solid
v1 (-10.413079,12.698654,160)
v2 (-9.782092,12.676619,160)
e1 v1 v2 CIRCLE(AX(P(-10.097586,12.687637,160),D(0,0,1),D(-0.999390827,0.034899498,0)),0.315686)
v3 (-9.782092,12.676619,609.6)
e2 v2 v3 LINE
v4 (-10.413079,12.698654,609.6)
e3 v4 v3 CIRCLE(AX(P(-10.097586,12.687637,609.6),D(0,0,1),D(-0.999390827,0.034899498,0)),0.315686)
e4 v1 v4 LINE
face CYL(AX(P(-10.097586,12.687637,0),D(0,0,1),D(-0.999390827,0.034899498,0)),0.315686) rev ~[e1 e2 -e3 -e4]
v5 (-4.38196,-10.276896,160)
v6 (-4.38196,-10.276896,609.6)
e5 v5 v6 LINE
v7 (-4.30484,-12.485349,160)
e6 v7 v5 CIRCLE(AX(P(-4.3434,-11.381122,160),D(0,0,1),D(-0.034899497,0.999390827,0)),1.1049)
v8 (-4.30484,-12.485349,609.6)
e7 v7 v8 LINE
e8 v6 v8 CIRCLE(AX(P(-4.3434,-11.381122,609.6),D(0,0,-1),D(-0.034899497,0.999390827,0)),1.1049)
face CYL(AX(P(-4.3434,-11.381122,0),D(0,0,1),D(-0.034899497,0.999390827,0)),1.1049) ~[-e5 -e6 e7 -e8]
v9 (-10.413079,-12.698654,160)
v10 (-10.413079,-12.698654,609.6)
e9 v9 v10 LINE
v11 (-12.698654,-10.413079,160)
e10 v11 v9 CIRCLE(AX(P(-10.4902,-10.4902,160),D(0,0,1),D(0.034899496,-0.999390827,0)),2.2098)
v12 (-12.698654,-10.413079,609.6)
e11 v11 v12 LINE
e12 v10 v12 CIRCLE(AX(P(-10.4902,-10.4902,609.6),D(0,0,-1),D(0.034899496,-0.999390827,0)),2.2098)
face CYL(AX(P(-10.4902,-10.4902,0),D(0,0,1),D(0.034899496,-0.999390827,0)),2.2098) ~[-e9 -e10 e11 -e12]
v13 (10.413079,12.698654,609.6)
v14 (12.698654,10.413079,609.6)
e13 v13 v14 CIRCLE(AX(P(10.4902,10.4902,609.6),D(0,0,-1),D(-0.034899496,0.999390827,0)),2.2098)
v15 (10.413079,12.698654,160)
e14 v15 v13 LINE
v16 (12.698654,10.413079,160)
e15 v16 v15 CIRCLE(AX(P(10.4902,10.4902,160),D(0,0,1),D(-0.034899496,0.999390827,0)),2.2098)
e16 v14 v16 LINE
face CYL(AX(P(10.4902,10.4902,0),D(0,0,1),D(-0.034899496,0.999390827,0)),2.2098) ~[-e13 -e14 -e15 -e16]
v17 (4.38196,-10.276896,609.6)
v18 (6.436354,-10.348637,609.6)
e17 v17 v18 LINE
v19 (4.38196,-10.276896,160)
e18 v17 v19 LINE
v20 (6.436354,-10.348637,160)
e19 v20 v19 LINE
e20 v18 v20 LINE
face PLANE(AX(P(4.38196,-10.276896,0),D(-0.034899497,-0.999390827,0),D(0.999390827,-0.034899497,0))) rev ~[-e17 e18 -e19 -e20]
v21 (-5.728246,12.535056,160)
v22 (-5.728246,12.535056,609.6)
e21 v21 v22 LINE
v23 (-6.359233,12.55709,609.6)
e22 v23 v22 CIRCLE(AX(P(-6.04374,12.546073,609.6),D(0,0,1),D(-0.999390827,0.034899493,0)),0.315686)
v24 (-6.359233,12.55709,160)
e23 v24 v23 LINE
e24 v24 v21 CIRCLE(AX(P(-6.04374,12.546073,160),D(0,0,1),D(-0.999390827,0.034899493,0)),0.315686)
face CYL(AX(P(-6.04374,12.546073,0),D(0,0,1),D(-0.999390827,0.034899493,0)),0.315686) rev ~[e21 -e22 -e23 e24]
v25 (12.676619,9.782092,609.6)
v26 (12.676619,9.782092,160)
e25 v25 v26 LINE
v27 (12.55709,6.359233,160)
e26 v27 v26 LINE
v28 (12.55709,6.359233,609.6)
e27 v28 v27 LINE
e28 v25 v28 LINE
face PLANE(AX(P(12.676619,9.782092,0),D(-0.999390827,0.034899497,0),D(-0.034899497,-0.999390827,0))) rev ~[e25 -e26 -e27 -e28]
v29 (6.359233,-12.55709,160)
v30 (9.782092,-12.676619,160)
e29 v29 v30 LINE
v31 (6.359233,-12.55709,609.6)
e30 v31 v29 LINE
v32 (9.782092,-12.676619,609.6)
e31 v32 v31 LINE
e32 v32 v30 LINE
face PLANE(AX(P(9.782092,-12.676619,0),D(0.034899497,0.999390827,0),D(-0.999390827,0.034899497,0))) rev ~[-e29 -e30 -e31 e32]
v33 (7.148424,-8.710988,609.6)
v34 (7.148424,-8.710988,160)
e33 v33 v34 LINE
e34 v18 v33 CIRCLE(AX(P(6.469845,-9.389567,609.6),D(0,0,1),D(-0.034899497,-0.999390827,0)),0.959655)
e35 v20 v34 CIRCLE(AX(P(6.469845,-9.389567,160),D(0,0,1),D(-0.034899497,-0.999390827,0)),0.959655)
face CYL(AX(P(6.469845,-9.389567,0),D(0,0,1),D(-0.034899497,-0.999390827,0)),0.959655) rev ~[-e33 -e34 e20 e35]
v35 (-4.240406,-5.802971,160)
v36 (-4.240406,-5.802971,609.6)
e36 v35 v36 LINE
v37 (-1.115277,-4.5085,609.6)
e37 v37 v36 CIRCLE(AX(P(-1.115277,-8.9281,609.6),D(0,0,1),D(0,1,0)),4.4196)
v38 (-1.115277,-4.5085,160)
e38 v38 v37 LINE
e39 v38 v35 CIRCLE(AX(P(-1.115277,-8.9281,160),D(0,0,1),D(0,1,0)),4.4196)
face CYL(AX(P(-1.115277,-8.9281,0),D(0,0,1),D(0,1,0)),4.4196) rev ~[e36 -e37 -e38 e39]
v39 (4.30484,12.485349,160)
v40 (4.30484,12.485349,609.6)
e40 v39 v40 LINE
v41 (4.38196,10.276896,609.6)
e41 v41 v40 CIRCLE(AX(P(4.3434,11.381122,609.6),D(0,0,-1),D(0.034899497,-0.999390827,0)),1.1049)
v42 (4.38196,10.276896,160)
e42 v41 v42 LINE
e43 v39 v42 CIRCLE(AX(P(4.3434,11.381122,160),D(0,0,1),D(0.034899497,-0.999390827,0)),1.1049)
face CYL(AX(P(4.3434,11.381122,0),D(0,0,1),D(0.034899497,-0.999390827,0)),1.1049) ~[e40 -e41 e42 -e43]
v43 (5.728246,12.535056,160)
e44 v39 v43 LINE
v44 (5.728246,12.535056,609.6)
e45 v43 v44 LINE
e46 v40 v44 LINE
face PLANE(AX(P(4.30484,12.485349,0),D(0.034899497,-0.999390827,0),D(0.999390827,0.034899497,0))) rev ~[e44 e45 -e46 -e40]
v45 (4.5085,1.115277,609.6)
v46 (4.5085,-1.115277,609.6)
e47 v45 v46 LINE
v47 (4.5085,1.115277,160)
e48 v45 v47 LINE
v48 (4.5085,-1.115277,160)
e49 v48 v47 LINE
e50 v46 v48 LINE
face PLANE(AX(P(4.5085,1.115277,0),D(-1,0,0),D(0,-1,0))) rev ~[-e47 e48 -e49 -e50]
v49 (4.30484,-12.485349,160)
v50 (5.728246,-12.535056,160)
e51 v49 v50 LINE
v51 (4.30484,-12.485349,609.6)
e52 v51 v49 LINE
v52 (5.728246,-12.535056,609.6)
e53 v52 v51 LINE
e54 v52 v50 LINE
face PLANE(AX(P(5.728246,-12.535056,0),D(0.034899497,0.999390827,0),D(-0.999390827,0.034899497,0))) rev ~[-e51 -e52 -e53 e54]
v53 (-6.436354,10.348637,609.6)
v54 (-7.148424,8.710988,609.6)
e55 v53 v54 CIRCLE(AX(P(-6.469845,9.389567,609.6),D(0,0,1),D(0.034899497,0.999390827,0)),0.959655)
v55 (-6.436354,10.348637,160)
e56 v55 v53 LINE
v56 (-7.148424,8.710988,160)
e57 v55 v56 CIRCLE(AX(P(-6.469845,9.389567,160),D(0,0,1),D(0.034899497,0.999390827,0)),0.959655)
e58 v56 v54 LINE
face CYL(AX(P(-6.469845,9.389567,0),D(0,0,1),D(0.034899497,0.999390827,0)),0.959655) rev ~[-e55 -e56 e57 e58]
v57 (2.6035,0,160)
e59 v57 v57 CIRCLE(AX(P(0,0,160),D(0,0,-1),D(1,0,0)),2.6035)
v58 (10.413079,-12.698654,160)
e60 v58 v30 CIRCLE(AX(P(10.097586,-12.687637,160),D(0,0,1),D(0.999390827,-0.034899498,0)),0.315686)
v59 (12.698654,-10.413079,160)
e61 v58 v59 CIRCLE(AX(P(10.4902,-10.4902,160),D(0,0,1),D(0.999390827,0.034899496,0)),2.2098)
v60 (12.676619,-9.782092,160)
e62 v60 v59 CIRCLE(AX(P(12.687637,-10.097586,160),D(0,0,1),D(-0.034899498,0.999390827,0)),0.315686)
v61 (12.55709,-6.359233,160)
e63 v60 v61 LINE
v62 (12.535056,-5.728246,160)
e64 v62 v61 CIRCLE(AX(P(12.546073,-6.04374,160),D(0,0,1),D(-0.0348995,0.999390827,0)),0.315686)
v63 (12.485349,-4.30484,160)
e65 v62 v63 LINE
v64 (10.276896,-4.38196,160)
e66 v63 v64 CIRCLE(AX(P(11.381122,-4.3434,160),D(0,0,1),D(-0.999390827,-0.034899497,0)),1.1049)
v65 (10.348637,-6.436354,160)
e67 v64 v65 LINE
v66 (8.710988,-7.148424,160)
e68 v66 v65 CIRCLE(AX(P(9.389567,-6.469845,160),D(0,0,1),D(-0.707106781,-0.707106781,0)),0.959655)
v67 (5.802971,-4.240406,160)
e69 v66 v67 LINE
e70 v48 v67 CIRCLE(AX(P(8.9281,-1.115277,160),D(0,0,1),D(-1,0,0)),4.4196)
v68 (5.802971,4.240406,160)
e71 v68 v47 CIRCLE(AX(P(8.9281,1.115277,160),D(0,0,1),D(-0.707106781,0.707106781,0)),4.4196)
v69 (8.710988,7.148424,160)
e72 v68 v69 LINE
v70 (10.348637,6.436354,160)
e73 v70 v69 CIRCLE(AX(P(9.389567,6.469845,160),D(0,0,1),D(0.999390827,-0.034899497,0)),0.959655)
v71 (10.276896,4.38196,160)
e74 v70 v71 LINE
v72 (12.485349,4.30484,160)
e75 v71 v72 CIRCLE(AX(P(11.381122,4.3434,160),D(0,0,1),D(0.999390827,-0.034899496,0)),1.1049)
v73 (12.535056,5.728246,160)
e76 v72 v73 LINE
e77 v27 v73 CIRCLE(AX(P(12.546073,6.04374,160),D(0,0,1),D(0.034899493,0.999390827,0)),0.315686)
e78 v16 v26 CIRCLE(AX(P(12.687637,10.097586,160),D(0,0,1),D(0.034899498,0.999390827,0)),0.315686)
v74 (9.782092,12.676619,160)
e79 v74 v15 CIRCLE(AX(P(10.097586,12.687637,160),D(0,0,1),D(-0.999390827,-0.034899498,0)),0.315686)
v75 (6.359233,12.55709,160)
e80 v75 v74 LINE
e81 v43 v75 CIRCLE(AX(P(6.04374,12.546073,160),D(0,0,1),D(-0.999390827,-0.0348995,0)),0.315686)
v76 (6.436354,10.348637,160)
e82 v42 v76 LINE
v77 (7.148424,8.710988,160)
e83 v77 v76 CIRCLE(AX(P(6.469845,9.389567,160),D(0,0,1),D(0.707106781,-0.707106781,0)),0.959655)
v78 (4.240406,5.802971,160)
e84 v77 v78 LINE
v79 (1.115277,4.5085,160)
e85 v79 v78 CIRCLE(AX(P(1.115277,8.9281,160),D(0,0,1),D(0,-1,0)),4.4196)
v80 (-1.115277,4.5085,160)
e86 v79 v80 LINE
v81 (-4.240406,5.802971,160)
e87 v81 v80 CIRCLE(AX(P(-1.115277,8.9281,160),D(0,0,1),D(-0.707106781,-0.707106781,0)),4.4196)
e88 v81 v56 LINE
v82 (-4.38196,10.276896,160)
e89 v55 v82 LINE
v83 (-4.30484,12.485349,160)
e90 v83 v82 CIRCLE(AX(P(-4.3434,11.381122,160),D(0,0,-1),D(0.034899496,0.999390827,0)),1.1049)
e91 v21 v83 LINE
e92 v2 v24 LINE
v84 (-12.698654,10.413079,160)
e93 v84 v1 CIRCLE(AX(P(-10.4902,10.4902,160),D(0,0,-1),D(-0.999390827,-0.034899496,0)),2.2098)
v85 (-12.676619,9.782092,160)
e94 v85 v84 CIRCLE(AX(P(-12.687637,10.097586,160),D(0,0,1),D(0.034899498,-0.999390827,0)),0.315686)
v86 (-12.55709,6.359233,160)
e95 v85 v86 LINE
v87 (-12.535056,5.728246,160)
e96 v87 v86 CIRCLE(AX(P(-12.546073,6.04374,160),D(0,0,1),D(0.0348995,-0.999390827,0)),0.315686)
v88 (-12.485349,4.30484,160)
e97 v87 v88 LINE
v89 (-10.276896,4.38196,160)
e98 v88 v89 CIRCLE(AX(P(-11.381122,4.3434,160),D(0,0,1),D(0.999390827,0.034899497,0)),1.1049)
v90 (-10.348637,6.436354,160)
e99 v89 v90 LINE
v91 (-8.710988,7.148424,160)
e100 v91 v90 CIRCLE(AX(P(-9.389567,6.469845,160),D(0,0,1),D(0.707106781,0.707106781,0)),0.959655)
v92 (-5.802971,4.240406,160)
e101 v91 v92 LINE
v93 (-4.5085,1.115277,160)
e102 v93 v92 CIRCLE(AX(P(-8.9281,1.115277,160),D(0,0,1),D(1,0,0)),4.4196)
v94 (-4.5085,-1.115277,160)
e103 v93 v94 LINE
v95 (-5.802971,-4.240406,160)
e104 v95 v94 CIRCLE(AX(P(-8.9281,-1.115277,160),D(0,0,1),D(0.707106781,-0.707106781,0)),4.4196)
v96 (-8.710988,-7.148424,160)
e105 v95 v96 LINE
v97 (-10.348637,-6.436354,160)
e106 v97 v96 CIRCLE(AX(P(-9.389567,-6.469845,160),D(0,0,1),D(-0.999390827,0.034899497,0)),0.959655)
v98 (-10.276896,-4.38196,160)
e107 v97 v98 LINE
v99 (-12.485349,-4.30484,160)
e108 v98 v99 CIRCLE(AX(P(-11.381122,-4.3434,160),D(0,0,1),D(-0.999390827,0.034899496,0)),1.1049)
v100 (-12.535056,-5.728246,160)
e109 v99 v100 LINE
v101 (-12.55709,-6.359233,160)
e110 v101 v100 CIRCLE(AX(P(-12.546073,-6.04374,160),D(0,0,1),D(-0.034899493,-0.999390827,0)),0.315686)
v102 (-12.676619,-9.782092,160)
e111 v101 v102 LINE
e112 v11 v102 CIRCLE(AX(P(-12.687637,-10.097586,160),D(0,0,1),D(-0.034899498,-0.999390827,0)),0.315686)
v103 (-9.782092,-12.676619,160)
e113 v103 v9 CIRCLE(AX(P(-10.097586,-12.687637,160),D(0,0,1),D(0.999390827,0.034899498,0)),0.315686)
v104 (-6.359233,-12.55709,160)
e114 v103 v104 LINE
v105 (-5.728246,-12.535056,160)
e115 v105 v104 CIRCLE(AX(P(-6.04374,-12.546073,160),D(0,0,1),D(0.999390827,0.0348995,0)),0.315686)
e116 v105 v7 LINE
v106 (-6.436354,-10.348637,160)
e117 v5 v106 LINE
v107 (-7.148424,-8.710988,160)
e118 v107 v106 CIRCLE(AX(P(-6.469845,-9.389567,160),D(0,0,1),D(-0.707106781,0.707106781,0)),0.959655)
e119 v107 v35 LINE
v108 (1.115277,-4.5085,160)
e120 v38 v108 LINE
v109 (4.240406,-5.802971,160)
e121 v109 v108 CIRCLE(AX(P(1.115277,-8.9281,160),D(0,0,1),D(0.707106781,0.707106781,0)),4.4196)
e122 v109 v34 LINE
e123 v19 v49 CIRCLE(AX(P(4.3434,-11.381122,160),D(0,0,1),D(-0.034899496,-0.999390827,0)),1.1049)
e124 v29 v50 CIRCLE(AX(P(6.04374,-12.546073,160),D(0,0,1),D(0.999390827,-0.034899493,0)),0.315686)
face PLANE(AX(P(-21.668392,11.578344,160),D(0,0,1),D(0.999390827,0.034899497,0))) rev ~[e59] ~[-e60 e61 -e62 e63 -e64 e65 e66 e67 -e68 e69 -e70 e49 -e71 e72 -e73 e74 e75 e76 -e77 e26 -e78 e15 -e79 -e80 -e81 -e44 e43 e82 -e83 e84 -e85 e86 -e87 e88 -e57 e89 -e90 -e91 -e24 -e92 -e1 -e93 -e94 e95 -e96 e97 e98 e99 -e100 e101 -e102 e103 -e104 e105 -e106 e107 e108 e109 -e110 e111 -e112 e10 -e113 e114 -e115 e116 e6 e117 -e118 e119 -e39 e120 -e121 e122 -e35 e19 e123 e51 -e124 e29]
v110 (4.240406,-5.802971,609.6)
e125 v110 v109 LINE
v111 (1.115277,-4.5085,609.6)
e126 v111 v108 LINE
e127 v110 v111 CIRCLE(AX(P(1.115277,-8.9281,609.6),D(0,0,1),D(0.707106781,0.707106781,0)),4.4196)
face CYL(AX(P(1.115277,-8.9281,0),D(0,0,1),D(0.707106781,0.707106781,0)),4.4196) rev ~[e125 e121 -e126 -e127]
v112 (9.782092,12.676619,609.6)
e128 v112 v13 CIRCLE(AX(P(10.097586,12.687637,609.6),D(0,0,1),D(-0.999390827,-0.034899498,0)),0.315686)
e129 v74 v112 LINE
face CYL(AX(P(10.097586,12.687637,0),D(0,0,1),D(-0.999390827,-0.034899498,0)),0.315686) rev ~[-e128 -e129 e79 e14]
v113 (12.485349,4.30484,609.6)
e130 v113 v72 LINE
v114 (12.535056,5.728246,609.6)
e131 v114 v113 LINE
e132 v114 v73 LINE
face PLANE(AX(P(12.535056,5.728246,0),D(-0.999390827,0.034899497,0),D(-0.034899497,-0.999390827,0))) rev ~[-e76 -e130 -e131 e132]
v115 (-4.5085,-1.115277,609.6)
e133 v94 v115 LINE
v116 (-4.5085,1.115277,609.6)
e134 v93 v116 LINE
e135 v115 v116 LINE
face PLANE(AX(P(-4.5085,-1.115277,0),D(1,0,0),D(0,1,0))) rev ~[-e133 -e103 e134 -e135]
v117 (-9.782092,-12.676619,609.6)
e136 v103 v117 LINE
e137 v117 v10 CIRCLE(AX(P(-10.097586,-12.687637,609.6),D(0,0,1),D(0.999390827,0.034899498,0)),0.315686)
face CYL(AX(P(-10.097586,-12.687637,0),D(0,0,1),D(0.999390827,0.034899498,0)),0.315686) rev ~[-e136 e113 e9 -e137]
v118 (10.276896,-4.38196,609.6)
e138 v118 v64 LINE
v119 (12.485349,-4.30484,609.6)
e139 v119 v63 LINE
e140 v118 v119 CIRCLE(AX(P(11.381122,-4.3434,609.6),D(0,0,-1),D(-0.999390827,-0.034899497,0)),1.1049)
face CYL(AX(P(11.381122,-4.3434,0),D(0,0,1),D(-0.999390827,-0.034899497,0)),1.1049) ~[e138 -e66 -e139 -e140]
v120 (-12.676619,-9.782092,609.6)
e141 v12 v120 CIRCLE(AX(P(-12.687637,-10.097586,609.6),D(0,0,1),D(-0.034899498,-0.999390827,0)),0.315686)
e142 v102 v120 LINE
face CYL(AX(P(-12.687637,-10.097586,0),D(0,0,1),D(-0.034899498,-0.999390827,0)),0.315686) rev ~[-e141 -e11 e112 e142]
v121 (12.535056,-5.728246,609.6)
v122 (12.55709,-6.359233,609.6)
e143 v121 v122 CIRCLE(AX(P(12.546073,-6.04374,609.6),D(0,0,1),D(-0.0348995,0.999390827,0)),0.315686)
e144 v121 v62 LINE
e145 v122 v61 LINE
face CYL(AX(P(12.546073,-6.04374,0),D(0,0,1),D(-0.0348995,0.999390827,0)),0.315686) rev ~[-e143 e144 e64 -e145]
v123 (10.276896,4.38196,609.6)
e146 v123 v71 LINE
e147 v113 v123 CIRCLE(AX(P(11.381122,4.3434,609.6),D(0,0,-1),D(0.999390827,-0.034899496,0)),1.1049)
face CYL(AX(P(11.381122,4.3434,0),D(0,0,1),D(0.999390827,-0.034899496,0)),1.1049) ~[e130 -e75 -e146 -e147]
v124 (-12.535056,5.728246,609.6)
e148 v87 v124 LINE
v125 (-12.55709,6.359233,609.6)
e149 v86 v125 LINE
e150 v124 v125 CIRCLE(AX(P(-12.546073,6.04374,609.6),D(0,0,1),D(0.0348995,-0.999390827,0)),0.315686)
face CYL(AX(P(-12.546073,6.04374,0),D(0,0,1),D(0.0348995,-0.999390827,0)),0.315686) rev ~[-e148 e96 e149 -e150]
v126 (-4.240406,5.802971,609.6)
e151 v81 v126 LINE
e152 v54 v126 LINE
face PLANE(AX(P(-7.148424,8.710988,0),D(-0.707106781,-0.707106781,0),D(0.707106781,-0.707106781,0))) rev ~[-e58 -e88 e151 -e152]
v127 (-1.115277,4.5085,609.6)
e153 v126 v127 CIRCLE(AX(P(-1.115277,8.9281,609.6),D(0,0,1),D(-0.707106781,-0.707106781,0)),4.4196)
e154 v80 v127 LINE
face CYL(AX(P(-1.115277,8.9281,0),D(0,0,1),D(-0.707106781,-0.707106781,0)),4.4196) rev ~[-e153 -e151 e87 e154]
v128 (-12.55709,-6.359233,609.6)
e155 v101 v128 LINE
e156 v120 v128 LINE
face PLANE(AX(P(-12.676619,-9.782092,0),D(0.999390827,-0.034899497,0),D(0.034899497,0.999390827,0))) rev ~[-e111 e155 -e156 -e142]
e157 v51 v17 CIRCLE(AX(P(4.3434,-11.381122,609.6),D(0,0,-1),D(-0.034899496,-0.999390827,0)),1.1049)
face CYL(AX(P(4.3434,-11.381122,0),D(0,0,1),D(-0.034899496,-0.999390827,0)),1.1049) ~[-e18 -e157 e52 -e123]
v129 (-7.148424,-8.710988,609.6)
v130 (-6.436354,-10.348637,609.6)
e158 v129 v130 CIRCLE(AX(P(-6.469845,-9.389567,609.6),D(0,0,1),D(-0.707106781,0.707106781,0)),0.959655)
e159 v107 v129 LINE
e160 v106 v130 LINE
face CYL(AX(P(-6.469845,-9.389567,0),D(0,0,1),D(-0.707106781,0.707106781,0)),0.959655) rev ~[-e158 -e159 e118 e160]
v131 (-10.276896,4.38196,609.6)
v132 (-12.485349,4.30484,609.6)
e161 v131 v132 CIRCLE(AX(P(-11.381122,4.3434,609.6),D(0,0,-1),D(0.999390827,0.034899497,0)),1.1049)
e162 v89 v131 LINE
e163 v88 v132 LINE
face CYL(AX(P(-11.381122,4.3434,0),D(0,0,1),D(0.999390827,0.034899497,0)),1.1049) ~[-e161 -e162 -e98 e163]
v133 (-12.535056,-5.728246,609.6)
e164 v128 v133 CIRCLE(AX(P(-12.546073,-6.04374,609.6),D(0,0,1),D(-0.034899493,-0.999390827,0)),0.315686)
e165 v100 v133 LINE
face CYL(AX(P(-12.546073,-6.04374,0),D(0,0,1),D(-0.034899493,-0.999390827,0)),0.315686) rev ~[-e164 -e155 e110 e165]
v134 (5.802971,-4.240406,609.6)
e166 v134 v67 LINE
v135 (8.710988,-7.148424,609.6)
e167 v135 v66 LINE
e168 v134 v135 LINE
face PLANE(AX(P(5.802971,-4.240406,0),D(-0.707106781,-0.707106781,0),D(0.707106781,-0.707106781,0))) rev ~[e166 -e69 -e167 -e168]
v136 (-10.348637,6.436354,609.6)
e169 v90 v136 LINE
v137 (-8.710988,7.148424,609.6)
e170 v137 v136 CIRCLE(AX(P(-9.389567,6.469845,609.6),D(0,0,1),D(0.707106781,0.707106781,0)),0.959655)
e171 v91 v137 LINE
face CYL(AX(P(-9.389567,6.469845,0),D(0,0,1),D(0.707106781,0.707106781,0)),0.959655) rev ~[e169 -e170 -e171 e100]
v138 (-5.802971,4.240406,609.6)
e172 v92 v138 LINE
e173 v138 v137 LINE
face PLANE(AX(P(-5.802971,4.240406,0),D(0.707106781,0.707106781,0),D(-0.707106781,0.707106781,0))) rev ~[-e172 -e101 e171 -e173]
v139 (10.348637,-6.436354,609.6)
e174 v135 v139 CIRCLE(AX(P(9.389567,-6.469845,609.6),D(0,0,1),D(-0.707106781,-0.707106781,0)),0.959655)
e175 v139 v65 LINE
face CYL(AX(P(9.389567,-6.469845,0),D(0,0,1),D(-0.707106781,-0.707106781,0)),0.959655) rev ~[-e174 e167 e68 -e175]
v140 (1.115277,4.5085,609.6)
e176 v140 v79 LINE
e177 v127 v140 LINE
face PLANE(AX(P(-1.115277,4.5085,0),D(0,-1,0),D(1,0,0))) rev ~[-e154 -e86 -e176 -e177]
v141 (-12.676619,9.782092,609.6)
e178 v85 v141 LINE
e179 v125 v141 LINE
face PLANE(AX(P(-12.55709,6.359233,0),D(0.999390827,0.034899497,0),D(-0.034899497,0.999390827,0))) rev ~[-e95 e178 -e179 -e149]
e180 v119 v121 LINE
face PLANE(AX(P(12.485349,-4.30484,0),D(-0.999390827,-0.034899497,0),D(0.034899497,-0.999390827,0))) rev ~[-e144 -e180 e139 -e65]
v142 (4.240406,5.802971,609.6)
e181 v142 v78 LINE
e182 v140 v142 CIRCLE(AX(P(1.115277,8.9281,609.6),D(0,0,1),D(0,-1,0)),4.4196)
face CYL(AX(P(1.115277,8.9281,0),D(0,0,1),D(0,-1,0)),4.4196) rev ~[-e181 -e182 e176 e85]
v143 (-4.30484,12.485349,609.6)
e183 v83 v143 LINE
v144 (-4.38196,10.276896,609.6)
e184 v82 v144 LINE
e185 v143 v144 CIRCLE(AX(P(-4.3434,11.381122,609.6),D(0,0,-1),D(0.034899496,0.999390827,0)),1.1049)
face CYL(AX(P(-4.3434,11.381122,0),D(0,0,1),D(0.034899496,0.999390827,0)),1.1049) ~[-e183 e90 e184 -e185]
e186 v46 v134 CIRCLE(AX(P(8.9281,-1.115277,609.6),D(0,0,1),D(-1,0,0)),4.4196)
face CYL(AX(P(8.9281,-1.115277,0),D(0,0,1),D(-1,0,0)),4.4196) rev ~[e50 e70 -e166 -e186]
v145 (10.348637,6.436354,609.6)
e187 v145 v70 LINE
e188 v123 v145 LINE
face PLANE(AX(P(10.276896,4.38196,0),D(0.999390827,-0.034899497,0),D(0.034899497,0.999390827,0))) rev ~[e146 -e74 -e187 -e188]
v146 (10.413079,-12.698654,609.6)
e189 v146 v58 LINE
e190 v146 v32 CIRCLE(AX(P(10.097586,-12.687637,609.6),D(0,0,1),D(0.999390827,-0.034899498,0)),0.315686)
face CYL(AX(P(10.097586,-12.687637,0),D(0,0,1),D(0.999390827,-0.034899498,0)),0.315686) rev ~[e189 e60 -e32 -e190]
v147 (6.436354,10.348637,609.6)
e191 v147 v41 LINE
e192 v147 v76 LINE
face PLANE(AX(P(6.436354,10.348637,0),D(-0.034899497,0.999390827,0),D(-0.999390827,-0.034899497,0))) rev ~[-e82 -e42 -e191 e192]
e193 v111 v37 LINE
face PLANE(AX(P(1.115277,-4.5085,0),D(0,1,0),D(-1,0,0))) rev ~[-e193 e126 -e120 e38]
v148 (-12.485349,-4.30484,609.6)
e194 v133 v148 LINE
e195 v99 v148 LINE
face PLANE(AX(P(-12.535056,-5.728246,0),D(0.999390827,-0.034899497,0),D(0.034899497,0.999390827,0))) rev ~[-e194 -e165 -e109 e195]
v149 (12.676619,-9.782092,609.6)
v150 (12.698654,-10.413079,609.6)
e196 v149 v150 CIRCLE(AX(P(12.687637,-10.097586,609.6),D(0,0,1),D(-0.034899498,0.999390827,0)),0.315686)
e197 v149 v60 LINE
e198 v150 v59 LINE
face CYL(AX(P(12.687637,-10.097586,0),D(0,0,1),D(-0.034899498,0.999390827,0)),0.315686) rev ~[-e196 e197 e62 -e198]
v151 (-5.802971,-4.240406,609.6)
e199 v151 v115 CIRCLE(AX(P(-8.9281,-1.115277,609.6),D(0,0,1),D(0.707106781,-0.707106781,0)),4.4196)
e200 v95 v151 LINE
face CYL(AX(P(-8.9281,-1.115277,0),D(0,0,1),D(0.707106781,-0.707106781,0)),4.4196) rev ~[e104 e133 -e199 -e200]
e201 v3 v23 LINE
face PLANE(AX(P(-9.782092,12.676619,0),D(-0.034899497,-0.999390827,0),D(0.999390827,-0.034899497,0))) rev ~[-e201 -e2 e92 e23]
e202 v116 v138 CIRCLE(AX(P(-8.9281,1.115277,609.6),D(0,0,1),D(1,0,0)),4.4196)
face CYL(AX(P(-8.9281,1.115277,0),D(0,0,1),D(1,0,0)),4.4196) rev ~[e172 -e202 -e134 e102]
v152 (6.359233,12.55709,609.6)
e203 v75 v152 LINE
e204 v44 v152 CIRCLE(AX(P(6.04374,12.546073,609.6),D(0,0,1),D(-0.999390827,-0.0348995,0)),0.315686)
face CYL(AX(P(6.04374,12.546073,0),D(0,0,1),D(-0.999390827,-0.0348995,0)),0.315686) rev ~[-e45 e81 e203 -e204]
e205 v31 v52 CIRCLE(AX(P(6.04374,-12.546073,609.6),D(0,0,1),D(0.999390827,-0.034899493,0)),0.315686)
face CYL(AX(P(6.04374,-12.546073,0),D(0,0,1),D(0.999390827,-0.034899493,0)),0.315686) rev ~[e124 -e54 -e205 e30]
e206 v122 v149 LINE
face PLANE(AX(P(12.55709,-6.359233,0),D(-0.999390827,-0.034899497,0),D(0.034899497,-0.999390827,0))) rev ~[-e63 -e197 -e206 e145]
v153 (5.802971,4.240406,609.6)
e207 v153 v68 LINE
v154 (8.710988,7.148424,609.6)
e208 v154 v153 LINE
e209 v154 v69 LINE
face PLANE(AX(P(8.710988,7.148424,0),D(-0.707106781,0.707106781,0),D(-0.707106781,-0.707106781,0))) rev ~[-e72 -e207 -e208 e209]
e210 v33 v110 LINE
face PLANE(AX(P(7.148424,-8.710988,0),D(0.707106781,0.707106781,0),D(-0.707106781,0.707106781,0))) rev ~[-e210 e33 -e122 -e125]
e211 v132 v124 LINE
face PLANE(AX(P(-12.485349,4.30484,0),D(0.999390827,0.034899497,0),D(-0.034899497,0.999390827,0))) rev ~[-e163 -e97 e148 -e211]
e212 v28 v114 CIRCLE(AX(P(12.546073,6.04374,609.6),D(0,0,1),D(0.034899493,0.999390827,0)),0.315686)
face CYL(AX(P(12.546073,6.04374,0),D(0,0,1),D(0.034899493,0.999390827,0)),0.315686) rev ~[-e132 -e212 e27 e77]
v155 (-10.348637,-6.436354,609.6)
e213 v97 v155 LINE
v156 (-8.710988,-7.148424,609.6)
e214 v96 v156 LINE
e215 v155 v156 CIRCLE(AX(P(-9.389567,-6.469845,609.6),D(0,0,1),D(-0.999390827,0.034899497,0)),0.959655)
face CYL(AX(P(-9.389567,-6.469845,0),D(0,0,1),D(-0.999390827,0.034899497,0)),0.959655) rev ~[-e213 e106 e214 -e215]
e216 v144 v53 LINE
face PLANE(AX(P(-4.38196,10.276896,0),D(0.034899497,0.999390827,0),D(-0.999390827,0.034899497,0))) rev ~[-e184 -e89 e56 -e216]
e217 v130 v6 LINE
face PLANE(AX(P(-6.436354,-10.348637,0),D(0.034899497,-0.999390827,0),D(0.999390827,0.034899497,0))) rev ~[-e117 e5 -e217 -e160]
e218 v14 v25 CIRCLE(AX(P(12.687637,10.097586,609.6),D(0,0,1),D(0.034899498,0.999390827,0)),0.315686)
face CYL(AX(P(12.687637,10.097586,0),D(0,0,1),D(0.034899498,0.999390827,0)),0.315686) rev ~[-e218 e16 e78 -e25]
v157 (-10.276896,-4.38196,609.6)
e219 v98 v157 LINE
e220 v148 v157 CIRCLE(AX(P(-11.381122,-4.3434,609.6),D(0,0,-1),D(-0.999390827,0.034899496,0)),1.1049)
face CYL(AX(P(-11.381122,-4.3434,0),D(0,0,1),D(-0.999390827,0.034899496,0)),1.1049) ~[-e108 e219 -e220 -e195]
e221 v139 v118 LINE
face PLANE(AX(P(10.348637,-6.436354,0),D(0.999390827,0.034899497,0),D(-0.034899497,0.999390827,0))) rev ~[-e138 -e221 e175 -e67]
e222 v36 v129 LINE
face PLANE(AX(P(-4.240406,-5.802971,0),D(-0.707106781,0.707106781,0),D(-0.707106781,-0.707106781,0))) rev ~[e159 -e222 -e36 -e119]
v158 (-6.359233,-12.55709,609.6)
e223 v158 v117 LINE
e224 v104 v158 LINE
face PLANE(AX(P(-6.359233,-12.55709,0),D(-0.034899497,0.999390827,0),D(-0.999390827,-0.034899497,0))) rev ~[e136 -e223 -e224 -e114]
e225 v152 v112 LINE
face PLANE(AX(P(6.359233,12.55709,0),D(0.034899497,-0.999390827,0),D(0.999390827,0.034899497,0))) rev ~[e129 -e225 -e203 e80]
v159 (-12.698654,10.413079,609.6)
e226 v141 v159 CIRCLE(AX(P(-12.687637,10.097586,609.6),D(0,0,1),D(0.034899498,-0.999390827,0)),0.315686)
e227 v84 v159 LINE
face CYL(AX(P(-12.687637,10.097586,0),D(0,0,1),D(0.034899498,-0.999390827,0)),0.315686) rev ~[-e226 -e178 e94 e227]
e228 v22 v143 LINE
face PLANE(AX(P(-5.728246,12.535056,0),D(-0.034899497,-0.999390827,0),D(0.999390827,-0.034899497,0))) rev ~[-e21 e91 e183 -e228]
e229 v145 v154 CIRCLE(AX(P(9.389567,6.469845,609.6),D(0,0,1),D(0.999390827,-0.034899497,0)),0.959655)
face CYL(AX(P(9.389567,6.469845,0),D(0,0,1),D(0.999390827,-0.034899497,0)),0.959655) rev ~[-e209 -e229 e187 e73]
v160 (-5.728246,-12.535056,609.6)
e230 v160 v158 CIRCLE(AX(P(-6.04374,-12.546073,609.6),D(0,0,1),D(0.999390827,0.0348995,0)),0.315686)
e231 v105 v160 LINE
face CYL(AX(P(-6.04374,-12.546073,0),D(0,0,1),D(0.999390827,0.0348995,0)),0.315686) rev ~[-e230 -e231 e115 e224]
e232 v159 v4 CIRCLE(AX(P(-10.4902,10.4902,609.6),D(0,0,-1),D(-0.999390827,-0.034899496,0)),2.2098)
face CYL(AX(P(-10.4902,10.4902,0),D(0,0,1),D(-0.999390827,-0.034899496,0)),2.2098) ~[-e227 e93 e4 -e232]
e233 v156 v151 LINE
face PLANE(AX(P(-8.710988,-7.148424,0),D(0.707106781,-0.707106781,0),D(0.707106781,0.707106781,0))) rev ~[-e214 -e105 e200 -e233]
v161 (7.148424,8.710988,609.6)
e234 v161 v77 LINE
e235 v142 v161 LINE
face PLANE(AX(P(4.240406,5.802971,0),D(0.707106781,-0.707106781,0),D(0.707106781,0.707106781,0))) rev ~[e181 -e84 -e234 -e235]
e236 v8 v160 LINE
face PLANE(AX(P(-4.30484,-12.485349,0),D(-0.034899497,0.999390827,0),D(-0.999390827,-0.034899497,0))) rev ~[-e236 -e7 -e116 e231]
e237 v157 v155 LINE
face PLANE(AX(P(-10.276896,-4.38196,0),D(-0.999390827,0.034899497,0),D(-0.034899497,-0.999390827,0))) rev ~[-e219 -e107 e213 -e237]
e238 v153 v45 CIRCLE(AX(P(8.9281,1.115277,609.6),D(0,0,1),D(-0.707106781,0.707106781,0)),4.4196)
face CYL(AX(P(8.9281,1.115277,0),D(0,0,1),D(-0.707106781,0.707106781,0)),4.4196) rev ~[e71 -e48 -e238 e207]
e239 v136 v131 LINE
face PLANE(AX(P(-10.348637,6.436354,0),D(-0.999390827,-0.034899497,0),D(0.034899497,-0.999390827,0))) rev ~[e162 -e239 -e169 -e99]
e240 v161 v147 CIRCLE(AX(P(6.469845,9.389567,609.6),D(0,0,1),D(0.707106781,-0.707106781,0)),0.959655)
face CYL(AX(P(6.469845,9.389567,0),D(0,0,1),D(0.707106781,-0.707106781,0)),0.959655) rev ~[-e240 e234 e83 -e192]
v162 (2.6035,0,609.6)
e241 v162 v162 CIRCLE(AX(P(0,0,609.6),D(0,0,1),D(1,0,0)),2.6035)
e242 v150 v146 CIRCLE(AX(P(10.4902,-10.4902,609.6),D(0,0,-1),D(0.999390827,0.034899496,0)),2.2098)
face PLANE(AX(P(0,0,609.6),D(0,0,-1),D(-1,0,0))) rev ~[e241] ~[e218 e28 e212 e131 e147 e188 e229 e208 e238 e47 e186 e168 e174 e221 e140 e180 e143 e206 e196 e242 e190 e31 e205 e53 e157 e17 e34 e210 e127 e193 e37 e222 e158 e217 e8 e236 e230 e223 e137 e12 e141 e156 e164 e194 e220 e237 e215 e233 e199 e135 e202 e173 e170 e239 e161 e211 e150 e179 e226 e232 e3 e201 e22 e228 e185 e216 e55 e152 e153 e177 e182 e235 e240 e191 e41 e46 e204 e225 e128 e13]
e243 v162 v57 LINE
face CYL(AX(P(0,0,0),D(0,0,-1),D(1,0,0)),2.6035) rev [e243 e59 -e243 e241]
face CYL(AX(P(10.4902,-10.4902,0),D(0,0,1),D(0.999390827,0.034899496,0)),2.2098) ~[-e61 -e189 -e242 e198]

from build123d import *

# Parameters (mm, degrees)
SKETCH3_R               = 2.6035
EXTRUDE1_DEPTH          = 609.6
SKETCH5_W               = 49.363750246
SKETCH5_H               = 769.6
CUT_EXTRUDE1_DEPTH      = 10
CUT_EXTRUDE1_DEPTH_BACK = 60


with BuildPart() as part:
    # Sketch3 → Extrude1 (new body, symmetric)
    with BuildSketch(Plane.XY):
        with BuildLine():
            Line((-1.115277175, 4.5085), (1.115277175, 4.5085))
            ThreePointArc((1.115277175, 4.5085), (2.806584872, 4.844922018), (4.240406305, 5.80297087))
            Line((4.240406305, 5.80297087), (7.148423664, 8.710988229))
            ThreePointArc((7.148423664, 8.710988229), (7.349906316, 9.772227925), (6.436353897, 10.348636575))
            Line((6.436353897, 10.348636575), (4.381960454, 10.276895575))
            ThreePointArc((4.381960454, 10.276895575), (3.239173075, 11.342562046), (4.304839546, 12.485349424))
            Line((4.304839546, 12.485349424), (5.728246175, 12.535055879))
            ThreePointArc((5.728246175, 12.535055879), (6.054756855, 12.230579745), (6.35923299, 12.557090424))
            Line((6.35923299, 12.557090424), (9.782092278, 12.676619304))
            ThreePointArc((9.782092278, 12.676619304), (10.108602958, 12.37214317), (10.413079092, 12.69865385))
            ThreePointArc((10.413079092, 12.69865385), (12.052764565, 12.052764565), (12.69865385, 10.413079092))
            ThreePointArc((12.69865385, 10.413079092), (12.37214317, 10.108602958), (12.676619304, 9.782092278))
            Line((12.676619304, 9.782092278), (12.557090424, 6.35923299))
            ThreePointArc((12.557090424, 6.35923299), (12.230579745, 6.054756855), (12.535055879, 5.728246175))
            Line((12.535055879, 5.728246175), (12.485349424, 4.304839546))
            ThreePointArc((12.485349424, 4.304839546), (11.342562046, 3.239173075), (10.276895575, 4.381960454))
            Line((10.276895575, 4.381960454), (10.348636575, 6.436353897))
            ThreePointArc((10.348636575, 6.436353897), (9.772227925, 7.349906316), (8.710988229, 7.148423664))
            Line((8.710988229, 7.148423664), (5.80297087, 4.240406305))
            ThreePointArc((5.80297087, 4.240406305), (4.844922018, 2.806584872), (4.5085, 1.115277175))
            Line((4.5085, 1.115277175), (4.5085, -1.115277175))
            ThreePointArc((4.5085, -1.115277175), (4.844922018, -2.806584872), (5.80297087, -4.240406305))
            Line((5.80297087, -4.240406305), (8.710988229, -7.148423664))
            ThreePointArc((8.710988229, -7.148423664), (9.772227925, -7.349906316), (10.348636575, -6.436353897))
            Line((10.348636575, -6.436353897), (10.276895575, -4.381960454))
            ThreePointArc((10.276895575, -4.381960454), (11.342562046, -3.239173075), (12.485349424, -4.304839546))
            Line((12.485349424, -4.304839546), (12.535055879, -5.728246175))
            ThreePointArc((12.535055879, -5.728246175), (12.230579745, -6.054756855), (12.557090424, -6.35923299))
            Line((12.557090424, -6.35923299), (12.676619304, -9.782092278))
            ThreePointArc((12.676619304, -9.782092278), (12.37214317, -10.108602958), (12.69865385, -10.413079092))
            ThreePointArc((12.69865385, -10.413079092), (12.052764565, -12.052764565), (10.413079092, -12.69865385))
            ThreePointArc((10.413079092, -12.69865385), (10.108602958, -12.37214317), (9.782092278, -12.676619304))
            Line((9.782092278, -12.676619304), (6.35923299, -12.557090424))
            ThreePointArc((6.35923299, -12.557090424), (6.054756855, -12.230579745), (5.728246175, -12.535055879))
            Line((5.728246175, -12.535055879), (4.304839546, -12.485349424))
            ThreePointArc((4.304839546, -12.485349424), (3.239173075, -11.342562046), (4.381960454, -10.276895575))
            Line((4.381960454, -10.276895575), (6.436353897, -10.348636575))
            ThreePointArc((6.436353897, -10.348636575), (7.349906316, -9.772227925), (7.148423664, -8.710988229))
            Line((7.148423664, -8.710988229), (4.240406305, -5.80297087))
            ThreePointArc((4.240406305, -5.80297087), (2.806584872, -4.844922018), (1.115277175, -4.5085))
            Line((1.115277175, -4.5085), (-1.115277175, -4.5085))
            ThreePointArc((-1.115277175, -4.5085), (-2.806584872, -4.844922018), (-4.240406305, -5.80297087))
            Line((-4.240406305, -5.80297087), (-7.148423664, -8.710988229))
            ThreePointArc((-7.148423664, -8.710988229), (-7.349906316, -9.772227925), (-6.436353897, -10.348636575))
            Line((-6.436353897, -10.348636575), (-4.381960454, -10.276895575))
            ThreePointArc((-4.381960454, -10.276895575), (-3.239173075, -11.342562046), (-4.304839546, -12.485349424))
            Line((-4.304839546, -12.485349424), (-5.728246175, -12.535055879))
            ThreePointArc((-5.728246175, -12.535055879), (-6.054756855, -12.230579745), (-6.35923299, -12.557090424))
            Line((-6.35923299, -12.557090424), (-9.782092278, -12.676619304))
            ThreePointArc((-9.782092278, -12.676619304), (-10.108602958, -12.37214317), (-10.413079092, -12.69865385))
            ThreePointArc((-10.413079092, -12.69865385), (-12.052764565, -12.052764565), (-12.69865385, -10.413079092))
            ThreePointArc((-12.69865385, -10.413079092), (-12.37214317, -10.108602958), (-12.676619304, -9.782092278))
            Line((-12.676619304, -9.782092278), (-12.557090424, -6.35923299))
            ThreePointArc((-12.557090424, -6.35923299), (-12.230579745, -6.054756855), (-12.535055879, -5.728246175))
            Line((-12.535055879, -5.728246175), (-12.485349424, -4.304839546))
            ThreePointArc((-12.485349424, -4.304839546), (-11.342562046, -3.239173075), (-10.276895575, -4.381960454))
            Line((-10.276895575, -4.381960454), (-10.348636575, -6.436353897))
            ThreePointArc((-10.348636575, -6.436353897), (-9.772227925, -7.349906316), (-8.710988229, -7.148423664))
            Line((-8.710988229, -7.148423664), (-5.80297087, -4.240406305))
            ThreePointArc((-5.80297087, -4.240406305), (-4.844922018, -2.806584872), (-4.5085, -1.115277175))
            Line((-4.5085, -1.115277175), (-4.5085, 1.115277175))
            ThreePointArc((-4.5085, 1.115277175), (-4.844922018, 2.806584872), (-5.80297087, 4.240406305))
            Line((-5.80297087, 4.240406305), (-8.710988229, 7.148423664))
            ThreePointArc((-8.710988229, 7.148423664), (-9.772227925, 7.349906316), (-10.348636575, 6.436353897))
            Line((-10.348636575, 6.436353897), (-10.276895575, 4.381960454))
            ThreePointArc((-10.276895575, 4.381960454), (-11.342562046, 3.239173075), (-12.485349424, 4.304839546))
            Line((-12.485349424, 4.304839546), (-12.535055879, 5.728246175))
            ThreePointArc((-12.535055879, 5.728246175), (-12.230579745, 6.054756855), (-12.557090424, 6.35923299))
            Line((-12.557090424, 6.35923299), (-12.676619304, 9.782092278))
            ThreePointArc((-12.676619304, 9.782092278), (-12.37214317, 10.108602958), (-12.69865385, 10.413079092))
            ThreePointArc((-12.69865385, 10.413079092), (-12.052764565, 12.052764565), (-10.413079092, 12.69865385))
            ThreePointArc((-10.413079092, 12.69865385), (-10.108602958, 12.37214317), (-9.782092278, 12.676619304))
            Line((-9.782092278, 12.676619304), (-6.35923299, 12.557090424))
            ThreePointArc((-6.35923299, 12.557090424), (-6.054756855, 12.230579745), (-5.728246175, 12.535055879))
            Line((-5.728246175, 12.535055879), (-4.304839546, 12.485349424))
            ThreePointArc((-4.304839546, 12.485349424), (-3.239173075, 11.342562046), (-4.381960454, 10.276895575))
            Line((-4.381960454, 10.276895575), (-6.436353897, 10.348636575))
            ThreePointArc((-6.436353897, 10.348636575), (-7.349906316, 9.772227925), (-7.148423664, 8.710988229))
            Line((-7.148423664, 8.710988229), (-4.240406305, 5.80297087))
            ThreePointArc((-4.240406305, 5.80297087), (-2.806584872, 4.844922018), (-1.115277175, 4.5085))
        make_face()
        Circle(SKETCH3_R, mode=Mode.SUBTRACT)
    extrude(amount=EXTRUDE1_DEPTH, both=True)

    # Sketch5 → Cut-Extrude1 (cut, two sides)
    with BuildSketch(Plane(origin=(-0.430223788, 12.319997369, 0), x_dir=(0.999390827, 0.034899497, 0), z_dir=(-0.034899497, 0.999390827, 0))) as cut_extrude1_sk:
        with Locations((3.430761539, 224.8)):
            Rectangle(SKETCH5_W, SKETCH5_H)
    extrude(amount=CUT_EXTRUDE1_DEPTH, mode=Mode.SUBTRACT)
    extrude(cut_extrude1_sk.sketch, amount=-CUT_EXTRUDE1_DEPTH_BACK, mode=Mode.SUBTRACT)


solid = part.part
